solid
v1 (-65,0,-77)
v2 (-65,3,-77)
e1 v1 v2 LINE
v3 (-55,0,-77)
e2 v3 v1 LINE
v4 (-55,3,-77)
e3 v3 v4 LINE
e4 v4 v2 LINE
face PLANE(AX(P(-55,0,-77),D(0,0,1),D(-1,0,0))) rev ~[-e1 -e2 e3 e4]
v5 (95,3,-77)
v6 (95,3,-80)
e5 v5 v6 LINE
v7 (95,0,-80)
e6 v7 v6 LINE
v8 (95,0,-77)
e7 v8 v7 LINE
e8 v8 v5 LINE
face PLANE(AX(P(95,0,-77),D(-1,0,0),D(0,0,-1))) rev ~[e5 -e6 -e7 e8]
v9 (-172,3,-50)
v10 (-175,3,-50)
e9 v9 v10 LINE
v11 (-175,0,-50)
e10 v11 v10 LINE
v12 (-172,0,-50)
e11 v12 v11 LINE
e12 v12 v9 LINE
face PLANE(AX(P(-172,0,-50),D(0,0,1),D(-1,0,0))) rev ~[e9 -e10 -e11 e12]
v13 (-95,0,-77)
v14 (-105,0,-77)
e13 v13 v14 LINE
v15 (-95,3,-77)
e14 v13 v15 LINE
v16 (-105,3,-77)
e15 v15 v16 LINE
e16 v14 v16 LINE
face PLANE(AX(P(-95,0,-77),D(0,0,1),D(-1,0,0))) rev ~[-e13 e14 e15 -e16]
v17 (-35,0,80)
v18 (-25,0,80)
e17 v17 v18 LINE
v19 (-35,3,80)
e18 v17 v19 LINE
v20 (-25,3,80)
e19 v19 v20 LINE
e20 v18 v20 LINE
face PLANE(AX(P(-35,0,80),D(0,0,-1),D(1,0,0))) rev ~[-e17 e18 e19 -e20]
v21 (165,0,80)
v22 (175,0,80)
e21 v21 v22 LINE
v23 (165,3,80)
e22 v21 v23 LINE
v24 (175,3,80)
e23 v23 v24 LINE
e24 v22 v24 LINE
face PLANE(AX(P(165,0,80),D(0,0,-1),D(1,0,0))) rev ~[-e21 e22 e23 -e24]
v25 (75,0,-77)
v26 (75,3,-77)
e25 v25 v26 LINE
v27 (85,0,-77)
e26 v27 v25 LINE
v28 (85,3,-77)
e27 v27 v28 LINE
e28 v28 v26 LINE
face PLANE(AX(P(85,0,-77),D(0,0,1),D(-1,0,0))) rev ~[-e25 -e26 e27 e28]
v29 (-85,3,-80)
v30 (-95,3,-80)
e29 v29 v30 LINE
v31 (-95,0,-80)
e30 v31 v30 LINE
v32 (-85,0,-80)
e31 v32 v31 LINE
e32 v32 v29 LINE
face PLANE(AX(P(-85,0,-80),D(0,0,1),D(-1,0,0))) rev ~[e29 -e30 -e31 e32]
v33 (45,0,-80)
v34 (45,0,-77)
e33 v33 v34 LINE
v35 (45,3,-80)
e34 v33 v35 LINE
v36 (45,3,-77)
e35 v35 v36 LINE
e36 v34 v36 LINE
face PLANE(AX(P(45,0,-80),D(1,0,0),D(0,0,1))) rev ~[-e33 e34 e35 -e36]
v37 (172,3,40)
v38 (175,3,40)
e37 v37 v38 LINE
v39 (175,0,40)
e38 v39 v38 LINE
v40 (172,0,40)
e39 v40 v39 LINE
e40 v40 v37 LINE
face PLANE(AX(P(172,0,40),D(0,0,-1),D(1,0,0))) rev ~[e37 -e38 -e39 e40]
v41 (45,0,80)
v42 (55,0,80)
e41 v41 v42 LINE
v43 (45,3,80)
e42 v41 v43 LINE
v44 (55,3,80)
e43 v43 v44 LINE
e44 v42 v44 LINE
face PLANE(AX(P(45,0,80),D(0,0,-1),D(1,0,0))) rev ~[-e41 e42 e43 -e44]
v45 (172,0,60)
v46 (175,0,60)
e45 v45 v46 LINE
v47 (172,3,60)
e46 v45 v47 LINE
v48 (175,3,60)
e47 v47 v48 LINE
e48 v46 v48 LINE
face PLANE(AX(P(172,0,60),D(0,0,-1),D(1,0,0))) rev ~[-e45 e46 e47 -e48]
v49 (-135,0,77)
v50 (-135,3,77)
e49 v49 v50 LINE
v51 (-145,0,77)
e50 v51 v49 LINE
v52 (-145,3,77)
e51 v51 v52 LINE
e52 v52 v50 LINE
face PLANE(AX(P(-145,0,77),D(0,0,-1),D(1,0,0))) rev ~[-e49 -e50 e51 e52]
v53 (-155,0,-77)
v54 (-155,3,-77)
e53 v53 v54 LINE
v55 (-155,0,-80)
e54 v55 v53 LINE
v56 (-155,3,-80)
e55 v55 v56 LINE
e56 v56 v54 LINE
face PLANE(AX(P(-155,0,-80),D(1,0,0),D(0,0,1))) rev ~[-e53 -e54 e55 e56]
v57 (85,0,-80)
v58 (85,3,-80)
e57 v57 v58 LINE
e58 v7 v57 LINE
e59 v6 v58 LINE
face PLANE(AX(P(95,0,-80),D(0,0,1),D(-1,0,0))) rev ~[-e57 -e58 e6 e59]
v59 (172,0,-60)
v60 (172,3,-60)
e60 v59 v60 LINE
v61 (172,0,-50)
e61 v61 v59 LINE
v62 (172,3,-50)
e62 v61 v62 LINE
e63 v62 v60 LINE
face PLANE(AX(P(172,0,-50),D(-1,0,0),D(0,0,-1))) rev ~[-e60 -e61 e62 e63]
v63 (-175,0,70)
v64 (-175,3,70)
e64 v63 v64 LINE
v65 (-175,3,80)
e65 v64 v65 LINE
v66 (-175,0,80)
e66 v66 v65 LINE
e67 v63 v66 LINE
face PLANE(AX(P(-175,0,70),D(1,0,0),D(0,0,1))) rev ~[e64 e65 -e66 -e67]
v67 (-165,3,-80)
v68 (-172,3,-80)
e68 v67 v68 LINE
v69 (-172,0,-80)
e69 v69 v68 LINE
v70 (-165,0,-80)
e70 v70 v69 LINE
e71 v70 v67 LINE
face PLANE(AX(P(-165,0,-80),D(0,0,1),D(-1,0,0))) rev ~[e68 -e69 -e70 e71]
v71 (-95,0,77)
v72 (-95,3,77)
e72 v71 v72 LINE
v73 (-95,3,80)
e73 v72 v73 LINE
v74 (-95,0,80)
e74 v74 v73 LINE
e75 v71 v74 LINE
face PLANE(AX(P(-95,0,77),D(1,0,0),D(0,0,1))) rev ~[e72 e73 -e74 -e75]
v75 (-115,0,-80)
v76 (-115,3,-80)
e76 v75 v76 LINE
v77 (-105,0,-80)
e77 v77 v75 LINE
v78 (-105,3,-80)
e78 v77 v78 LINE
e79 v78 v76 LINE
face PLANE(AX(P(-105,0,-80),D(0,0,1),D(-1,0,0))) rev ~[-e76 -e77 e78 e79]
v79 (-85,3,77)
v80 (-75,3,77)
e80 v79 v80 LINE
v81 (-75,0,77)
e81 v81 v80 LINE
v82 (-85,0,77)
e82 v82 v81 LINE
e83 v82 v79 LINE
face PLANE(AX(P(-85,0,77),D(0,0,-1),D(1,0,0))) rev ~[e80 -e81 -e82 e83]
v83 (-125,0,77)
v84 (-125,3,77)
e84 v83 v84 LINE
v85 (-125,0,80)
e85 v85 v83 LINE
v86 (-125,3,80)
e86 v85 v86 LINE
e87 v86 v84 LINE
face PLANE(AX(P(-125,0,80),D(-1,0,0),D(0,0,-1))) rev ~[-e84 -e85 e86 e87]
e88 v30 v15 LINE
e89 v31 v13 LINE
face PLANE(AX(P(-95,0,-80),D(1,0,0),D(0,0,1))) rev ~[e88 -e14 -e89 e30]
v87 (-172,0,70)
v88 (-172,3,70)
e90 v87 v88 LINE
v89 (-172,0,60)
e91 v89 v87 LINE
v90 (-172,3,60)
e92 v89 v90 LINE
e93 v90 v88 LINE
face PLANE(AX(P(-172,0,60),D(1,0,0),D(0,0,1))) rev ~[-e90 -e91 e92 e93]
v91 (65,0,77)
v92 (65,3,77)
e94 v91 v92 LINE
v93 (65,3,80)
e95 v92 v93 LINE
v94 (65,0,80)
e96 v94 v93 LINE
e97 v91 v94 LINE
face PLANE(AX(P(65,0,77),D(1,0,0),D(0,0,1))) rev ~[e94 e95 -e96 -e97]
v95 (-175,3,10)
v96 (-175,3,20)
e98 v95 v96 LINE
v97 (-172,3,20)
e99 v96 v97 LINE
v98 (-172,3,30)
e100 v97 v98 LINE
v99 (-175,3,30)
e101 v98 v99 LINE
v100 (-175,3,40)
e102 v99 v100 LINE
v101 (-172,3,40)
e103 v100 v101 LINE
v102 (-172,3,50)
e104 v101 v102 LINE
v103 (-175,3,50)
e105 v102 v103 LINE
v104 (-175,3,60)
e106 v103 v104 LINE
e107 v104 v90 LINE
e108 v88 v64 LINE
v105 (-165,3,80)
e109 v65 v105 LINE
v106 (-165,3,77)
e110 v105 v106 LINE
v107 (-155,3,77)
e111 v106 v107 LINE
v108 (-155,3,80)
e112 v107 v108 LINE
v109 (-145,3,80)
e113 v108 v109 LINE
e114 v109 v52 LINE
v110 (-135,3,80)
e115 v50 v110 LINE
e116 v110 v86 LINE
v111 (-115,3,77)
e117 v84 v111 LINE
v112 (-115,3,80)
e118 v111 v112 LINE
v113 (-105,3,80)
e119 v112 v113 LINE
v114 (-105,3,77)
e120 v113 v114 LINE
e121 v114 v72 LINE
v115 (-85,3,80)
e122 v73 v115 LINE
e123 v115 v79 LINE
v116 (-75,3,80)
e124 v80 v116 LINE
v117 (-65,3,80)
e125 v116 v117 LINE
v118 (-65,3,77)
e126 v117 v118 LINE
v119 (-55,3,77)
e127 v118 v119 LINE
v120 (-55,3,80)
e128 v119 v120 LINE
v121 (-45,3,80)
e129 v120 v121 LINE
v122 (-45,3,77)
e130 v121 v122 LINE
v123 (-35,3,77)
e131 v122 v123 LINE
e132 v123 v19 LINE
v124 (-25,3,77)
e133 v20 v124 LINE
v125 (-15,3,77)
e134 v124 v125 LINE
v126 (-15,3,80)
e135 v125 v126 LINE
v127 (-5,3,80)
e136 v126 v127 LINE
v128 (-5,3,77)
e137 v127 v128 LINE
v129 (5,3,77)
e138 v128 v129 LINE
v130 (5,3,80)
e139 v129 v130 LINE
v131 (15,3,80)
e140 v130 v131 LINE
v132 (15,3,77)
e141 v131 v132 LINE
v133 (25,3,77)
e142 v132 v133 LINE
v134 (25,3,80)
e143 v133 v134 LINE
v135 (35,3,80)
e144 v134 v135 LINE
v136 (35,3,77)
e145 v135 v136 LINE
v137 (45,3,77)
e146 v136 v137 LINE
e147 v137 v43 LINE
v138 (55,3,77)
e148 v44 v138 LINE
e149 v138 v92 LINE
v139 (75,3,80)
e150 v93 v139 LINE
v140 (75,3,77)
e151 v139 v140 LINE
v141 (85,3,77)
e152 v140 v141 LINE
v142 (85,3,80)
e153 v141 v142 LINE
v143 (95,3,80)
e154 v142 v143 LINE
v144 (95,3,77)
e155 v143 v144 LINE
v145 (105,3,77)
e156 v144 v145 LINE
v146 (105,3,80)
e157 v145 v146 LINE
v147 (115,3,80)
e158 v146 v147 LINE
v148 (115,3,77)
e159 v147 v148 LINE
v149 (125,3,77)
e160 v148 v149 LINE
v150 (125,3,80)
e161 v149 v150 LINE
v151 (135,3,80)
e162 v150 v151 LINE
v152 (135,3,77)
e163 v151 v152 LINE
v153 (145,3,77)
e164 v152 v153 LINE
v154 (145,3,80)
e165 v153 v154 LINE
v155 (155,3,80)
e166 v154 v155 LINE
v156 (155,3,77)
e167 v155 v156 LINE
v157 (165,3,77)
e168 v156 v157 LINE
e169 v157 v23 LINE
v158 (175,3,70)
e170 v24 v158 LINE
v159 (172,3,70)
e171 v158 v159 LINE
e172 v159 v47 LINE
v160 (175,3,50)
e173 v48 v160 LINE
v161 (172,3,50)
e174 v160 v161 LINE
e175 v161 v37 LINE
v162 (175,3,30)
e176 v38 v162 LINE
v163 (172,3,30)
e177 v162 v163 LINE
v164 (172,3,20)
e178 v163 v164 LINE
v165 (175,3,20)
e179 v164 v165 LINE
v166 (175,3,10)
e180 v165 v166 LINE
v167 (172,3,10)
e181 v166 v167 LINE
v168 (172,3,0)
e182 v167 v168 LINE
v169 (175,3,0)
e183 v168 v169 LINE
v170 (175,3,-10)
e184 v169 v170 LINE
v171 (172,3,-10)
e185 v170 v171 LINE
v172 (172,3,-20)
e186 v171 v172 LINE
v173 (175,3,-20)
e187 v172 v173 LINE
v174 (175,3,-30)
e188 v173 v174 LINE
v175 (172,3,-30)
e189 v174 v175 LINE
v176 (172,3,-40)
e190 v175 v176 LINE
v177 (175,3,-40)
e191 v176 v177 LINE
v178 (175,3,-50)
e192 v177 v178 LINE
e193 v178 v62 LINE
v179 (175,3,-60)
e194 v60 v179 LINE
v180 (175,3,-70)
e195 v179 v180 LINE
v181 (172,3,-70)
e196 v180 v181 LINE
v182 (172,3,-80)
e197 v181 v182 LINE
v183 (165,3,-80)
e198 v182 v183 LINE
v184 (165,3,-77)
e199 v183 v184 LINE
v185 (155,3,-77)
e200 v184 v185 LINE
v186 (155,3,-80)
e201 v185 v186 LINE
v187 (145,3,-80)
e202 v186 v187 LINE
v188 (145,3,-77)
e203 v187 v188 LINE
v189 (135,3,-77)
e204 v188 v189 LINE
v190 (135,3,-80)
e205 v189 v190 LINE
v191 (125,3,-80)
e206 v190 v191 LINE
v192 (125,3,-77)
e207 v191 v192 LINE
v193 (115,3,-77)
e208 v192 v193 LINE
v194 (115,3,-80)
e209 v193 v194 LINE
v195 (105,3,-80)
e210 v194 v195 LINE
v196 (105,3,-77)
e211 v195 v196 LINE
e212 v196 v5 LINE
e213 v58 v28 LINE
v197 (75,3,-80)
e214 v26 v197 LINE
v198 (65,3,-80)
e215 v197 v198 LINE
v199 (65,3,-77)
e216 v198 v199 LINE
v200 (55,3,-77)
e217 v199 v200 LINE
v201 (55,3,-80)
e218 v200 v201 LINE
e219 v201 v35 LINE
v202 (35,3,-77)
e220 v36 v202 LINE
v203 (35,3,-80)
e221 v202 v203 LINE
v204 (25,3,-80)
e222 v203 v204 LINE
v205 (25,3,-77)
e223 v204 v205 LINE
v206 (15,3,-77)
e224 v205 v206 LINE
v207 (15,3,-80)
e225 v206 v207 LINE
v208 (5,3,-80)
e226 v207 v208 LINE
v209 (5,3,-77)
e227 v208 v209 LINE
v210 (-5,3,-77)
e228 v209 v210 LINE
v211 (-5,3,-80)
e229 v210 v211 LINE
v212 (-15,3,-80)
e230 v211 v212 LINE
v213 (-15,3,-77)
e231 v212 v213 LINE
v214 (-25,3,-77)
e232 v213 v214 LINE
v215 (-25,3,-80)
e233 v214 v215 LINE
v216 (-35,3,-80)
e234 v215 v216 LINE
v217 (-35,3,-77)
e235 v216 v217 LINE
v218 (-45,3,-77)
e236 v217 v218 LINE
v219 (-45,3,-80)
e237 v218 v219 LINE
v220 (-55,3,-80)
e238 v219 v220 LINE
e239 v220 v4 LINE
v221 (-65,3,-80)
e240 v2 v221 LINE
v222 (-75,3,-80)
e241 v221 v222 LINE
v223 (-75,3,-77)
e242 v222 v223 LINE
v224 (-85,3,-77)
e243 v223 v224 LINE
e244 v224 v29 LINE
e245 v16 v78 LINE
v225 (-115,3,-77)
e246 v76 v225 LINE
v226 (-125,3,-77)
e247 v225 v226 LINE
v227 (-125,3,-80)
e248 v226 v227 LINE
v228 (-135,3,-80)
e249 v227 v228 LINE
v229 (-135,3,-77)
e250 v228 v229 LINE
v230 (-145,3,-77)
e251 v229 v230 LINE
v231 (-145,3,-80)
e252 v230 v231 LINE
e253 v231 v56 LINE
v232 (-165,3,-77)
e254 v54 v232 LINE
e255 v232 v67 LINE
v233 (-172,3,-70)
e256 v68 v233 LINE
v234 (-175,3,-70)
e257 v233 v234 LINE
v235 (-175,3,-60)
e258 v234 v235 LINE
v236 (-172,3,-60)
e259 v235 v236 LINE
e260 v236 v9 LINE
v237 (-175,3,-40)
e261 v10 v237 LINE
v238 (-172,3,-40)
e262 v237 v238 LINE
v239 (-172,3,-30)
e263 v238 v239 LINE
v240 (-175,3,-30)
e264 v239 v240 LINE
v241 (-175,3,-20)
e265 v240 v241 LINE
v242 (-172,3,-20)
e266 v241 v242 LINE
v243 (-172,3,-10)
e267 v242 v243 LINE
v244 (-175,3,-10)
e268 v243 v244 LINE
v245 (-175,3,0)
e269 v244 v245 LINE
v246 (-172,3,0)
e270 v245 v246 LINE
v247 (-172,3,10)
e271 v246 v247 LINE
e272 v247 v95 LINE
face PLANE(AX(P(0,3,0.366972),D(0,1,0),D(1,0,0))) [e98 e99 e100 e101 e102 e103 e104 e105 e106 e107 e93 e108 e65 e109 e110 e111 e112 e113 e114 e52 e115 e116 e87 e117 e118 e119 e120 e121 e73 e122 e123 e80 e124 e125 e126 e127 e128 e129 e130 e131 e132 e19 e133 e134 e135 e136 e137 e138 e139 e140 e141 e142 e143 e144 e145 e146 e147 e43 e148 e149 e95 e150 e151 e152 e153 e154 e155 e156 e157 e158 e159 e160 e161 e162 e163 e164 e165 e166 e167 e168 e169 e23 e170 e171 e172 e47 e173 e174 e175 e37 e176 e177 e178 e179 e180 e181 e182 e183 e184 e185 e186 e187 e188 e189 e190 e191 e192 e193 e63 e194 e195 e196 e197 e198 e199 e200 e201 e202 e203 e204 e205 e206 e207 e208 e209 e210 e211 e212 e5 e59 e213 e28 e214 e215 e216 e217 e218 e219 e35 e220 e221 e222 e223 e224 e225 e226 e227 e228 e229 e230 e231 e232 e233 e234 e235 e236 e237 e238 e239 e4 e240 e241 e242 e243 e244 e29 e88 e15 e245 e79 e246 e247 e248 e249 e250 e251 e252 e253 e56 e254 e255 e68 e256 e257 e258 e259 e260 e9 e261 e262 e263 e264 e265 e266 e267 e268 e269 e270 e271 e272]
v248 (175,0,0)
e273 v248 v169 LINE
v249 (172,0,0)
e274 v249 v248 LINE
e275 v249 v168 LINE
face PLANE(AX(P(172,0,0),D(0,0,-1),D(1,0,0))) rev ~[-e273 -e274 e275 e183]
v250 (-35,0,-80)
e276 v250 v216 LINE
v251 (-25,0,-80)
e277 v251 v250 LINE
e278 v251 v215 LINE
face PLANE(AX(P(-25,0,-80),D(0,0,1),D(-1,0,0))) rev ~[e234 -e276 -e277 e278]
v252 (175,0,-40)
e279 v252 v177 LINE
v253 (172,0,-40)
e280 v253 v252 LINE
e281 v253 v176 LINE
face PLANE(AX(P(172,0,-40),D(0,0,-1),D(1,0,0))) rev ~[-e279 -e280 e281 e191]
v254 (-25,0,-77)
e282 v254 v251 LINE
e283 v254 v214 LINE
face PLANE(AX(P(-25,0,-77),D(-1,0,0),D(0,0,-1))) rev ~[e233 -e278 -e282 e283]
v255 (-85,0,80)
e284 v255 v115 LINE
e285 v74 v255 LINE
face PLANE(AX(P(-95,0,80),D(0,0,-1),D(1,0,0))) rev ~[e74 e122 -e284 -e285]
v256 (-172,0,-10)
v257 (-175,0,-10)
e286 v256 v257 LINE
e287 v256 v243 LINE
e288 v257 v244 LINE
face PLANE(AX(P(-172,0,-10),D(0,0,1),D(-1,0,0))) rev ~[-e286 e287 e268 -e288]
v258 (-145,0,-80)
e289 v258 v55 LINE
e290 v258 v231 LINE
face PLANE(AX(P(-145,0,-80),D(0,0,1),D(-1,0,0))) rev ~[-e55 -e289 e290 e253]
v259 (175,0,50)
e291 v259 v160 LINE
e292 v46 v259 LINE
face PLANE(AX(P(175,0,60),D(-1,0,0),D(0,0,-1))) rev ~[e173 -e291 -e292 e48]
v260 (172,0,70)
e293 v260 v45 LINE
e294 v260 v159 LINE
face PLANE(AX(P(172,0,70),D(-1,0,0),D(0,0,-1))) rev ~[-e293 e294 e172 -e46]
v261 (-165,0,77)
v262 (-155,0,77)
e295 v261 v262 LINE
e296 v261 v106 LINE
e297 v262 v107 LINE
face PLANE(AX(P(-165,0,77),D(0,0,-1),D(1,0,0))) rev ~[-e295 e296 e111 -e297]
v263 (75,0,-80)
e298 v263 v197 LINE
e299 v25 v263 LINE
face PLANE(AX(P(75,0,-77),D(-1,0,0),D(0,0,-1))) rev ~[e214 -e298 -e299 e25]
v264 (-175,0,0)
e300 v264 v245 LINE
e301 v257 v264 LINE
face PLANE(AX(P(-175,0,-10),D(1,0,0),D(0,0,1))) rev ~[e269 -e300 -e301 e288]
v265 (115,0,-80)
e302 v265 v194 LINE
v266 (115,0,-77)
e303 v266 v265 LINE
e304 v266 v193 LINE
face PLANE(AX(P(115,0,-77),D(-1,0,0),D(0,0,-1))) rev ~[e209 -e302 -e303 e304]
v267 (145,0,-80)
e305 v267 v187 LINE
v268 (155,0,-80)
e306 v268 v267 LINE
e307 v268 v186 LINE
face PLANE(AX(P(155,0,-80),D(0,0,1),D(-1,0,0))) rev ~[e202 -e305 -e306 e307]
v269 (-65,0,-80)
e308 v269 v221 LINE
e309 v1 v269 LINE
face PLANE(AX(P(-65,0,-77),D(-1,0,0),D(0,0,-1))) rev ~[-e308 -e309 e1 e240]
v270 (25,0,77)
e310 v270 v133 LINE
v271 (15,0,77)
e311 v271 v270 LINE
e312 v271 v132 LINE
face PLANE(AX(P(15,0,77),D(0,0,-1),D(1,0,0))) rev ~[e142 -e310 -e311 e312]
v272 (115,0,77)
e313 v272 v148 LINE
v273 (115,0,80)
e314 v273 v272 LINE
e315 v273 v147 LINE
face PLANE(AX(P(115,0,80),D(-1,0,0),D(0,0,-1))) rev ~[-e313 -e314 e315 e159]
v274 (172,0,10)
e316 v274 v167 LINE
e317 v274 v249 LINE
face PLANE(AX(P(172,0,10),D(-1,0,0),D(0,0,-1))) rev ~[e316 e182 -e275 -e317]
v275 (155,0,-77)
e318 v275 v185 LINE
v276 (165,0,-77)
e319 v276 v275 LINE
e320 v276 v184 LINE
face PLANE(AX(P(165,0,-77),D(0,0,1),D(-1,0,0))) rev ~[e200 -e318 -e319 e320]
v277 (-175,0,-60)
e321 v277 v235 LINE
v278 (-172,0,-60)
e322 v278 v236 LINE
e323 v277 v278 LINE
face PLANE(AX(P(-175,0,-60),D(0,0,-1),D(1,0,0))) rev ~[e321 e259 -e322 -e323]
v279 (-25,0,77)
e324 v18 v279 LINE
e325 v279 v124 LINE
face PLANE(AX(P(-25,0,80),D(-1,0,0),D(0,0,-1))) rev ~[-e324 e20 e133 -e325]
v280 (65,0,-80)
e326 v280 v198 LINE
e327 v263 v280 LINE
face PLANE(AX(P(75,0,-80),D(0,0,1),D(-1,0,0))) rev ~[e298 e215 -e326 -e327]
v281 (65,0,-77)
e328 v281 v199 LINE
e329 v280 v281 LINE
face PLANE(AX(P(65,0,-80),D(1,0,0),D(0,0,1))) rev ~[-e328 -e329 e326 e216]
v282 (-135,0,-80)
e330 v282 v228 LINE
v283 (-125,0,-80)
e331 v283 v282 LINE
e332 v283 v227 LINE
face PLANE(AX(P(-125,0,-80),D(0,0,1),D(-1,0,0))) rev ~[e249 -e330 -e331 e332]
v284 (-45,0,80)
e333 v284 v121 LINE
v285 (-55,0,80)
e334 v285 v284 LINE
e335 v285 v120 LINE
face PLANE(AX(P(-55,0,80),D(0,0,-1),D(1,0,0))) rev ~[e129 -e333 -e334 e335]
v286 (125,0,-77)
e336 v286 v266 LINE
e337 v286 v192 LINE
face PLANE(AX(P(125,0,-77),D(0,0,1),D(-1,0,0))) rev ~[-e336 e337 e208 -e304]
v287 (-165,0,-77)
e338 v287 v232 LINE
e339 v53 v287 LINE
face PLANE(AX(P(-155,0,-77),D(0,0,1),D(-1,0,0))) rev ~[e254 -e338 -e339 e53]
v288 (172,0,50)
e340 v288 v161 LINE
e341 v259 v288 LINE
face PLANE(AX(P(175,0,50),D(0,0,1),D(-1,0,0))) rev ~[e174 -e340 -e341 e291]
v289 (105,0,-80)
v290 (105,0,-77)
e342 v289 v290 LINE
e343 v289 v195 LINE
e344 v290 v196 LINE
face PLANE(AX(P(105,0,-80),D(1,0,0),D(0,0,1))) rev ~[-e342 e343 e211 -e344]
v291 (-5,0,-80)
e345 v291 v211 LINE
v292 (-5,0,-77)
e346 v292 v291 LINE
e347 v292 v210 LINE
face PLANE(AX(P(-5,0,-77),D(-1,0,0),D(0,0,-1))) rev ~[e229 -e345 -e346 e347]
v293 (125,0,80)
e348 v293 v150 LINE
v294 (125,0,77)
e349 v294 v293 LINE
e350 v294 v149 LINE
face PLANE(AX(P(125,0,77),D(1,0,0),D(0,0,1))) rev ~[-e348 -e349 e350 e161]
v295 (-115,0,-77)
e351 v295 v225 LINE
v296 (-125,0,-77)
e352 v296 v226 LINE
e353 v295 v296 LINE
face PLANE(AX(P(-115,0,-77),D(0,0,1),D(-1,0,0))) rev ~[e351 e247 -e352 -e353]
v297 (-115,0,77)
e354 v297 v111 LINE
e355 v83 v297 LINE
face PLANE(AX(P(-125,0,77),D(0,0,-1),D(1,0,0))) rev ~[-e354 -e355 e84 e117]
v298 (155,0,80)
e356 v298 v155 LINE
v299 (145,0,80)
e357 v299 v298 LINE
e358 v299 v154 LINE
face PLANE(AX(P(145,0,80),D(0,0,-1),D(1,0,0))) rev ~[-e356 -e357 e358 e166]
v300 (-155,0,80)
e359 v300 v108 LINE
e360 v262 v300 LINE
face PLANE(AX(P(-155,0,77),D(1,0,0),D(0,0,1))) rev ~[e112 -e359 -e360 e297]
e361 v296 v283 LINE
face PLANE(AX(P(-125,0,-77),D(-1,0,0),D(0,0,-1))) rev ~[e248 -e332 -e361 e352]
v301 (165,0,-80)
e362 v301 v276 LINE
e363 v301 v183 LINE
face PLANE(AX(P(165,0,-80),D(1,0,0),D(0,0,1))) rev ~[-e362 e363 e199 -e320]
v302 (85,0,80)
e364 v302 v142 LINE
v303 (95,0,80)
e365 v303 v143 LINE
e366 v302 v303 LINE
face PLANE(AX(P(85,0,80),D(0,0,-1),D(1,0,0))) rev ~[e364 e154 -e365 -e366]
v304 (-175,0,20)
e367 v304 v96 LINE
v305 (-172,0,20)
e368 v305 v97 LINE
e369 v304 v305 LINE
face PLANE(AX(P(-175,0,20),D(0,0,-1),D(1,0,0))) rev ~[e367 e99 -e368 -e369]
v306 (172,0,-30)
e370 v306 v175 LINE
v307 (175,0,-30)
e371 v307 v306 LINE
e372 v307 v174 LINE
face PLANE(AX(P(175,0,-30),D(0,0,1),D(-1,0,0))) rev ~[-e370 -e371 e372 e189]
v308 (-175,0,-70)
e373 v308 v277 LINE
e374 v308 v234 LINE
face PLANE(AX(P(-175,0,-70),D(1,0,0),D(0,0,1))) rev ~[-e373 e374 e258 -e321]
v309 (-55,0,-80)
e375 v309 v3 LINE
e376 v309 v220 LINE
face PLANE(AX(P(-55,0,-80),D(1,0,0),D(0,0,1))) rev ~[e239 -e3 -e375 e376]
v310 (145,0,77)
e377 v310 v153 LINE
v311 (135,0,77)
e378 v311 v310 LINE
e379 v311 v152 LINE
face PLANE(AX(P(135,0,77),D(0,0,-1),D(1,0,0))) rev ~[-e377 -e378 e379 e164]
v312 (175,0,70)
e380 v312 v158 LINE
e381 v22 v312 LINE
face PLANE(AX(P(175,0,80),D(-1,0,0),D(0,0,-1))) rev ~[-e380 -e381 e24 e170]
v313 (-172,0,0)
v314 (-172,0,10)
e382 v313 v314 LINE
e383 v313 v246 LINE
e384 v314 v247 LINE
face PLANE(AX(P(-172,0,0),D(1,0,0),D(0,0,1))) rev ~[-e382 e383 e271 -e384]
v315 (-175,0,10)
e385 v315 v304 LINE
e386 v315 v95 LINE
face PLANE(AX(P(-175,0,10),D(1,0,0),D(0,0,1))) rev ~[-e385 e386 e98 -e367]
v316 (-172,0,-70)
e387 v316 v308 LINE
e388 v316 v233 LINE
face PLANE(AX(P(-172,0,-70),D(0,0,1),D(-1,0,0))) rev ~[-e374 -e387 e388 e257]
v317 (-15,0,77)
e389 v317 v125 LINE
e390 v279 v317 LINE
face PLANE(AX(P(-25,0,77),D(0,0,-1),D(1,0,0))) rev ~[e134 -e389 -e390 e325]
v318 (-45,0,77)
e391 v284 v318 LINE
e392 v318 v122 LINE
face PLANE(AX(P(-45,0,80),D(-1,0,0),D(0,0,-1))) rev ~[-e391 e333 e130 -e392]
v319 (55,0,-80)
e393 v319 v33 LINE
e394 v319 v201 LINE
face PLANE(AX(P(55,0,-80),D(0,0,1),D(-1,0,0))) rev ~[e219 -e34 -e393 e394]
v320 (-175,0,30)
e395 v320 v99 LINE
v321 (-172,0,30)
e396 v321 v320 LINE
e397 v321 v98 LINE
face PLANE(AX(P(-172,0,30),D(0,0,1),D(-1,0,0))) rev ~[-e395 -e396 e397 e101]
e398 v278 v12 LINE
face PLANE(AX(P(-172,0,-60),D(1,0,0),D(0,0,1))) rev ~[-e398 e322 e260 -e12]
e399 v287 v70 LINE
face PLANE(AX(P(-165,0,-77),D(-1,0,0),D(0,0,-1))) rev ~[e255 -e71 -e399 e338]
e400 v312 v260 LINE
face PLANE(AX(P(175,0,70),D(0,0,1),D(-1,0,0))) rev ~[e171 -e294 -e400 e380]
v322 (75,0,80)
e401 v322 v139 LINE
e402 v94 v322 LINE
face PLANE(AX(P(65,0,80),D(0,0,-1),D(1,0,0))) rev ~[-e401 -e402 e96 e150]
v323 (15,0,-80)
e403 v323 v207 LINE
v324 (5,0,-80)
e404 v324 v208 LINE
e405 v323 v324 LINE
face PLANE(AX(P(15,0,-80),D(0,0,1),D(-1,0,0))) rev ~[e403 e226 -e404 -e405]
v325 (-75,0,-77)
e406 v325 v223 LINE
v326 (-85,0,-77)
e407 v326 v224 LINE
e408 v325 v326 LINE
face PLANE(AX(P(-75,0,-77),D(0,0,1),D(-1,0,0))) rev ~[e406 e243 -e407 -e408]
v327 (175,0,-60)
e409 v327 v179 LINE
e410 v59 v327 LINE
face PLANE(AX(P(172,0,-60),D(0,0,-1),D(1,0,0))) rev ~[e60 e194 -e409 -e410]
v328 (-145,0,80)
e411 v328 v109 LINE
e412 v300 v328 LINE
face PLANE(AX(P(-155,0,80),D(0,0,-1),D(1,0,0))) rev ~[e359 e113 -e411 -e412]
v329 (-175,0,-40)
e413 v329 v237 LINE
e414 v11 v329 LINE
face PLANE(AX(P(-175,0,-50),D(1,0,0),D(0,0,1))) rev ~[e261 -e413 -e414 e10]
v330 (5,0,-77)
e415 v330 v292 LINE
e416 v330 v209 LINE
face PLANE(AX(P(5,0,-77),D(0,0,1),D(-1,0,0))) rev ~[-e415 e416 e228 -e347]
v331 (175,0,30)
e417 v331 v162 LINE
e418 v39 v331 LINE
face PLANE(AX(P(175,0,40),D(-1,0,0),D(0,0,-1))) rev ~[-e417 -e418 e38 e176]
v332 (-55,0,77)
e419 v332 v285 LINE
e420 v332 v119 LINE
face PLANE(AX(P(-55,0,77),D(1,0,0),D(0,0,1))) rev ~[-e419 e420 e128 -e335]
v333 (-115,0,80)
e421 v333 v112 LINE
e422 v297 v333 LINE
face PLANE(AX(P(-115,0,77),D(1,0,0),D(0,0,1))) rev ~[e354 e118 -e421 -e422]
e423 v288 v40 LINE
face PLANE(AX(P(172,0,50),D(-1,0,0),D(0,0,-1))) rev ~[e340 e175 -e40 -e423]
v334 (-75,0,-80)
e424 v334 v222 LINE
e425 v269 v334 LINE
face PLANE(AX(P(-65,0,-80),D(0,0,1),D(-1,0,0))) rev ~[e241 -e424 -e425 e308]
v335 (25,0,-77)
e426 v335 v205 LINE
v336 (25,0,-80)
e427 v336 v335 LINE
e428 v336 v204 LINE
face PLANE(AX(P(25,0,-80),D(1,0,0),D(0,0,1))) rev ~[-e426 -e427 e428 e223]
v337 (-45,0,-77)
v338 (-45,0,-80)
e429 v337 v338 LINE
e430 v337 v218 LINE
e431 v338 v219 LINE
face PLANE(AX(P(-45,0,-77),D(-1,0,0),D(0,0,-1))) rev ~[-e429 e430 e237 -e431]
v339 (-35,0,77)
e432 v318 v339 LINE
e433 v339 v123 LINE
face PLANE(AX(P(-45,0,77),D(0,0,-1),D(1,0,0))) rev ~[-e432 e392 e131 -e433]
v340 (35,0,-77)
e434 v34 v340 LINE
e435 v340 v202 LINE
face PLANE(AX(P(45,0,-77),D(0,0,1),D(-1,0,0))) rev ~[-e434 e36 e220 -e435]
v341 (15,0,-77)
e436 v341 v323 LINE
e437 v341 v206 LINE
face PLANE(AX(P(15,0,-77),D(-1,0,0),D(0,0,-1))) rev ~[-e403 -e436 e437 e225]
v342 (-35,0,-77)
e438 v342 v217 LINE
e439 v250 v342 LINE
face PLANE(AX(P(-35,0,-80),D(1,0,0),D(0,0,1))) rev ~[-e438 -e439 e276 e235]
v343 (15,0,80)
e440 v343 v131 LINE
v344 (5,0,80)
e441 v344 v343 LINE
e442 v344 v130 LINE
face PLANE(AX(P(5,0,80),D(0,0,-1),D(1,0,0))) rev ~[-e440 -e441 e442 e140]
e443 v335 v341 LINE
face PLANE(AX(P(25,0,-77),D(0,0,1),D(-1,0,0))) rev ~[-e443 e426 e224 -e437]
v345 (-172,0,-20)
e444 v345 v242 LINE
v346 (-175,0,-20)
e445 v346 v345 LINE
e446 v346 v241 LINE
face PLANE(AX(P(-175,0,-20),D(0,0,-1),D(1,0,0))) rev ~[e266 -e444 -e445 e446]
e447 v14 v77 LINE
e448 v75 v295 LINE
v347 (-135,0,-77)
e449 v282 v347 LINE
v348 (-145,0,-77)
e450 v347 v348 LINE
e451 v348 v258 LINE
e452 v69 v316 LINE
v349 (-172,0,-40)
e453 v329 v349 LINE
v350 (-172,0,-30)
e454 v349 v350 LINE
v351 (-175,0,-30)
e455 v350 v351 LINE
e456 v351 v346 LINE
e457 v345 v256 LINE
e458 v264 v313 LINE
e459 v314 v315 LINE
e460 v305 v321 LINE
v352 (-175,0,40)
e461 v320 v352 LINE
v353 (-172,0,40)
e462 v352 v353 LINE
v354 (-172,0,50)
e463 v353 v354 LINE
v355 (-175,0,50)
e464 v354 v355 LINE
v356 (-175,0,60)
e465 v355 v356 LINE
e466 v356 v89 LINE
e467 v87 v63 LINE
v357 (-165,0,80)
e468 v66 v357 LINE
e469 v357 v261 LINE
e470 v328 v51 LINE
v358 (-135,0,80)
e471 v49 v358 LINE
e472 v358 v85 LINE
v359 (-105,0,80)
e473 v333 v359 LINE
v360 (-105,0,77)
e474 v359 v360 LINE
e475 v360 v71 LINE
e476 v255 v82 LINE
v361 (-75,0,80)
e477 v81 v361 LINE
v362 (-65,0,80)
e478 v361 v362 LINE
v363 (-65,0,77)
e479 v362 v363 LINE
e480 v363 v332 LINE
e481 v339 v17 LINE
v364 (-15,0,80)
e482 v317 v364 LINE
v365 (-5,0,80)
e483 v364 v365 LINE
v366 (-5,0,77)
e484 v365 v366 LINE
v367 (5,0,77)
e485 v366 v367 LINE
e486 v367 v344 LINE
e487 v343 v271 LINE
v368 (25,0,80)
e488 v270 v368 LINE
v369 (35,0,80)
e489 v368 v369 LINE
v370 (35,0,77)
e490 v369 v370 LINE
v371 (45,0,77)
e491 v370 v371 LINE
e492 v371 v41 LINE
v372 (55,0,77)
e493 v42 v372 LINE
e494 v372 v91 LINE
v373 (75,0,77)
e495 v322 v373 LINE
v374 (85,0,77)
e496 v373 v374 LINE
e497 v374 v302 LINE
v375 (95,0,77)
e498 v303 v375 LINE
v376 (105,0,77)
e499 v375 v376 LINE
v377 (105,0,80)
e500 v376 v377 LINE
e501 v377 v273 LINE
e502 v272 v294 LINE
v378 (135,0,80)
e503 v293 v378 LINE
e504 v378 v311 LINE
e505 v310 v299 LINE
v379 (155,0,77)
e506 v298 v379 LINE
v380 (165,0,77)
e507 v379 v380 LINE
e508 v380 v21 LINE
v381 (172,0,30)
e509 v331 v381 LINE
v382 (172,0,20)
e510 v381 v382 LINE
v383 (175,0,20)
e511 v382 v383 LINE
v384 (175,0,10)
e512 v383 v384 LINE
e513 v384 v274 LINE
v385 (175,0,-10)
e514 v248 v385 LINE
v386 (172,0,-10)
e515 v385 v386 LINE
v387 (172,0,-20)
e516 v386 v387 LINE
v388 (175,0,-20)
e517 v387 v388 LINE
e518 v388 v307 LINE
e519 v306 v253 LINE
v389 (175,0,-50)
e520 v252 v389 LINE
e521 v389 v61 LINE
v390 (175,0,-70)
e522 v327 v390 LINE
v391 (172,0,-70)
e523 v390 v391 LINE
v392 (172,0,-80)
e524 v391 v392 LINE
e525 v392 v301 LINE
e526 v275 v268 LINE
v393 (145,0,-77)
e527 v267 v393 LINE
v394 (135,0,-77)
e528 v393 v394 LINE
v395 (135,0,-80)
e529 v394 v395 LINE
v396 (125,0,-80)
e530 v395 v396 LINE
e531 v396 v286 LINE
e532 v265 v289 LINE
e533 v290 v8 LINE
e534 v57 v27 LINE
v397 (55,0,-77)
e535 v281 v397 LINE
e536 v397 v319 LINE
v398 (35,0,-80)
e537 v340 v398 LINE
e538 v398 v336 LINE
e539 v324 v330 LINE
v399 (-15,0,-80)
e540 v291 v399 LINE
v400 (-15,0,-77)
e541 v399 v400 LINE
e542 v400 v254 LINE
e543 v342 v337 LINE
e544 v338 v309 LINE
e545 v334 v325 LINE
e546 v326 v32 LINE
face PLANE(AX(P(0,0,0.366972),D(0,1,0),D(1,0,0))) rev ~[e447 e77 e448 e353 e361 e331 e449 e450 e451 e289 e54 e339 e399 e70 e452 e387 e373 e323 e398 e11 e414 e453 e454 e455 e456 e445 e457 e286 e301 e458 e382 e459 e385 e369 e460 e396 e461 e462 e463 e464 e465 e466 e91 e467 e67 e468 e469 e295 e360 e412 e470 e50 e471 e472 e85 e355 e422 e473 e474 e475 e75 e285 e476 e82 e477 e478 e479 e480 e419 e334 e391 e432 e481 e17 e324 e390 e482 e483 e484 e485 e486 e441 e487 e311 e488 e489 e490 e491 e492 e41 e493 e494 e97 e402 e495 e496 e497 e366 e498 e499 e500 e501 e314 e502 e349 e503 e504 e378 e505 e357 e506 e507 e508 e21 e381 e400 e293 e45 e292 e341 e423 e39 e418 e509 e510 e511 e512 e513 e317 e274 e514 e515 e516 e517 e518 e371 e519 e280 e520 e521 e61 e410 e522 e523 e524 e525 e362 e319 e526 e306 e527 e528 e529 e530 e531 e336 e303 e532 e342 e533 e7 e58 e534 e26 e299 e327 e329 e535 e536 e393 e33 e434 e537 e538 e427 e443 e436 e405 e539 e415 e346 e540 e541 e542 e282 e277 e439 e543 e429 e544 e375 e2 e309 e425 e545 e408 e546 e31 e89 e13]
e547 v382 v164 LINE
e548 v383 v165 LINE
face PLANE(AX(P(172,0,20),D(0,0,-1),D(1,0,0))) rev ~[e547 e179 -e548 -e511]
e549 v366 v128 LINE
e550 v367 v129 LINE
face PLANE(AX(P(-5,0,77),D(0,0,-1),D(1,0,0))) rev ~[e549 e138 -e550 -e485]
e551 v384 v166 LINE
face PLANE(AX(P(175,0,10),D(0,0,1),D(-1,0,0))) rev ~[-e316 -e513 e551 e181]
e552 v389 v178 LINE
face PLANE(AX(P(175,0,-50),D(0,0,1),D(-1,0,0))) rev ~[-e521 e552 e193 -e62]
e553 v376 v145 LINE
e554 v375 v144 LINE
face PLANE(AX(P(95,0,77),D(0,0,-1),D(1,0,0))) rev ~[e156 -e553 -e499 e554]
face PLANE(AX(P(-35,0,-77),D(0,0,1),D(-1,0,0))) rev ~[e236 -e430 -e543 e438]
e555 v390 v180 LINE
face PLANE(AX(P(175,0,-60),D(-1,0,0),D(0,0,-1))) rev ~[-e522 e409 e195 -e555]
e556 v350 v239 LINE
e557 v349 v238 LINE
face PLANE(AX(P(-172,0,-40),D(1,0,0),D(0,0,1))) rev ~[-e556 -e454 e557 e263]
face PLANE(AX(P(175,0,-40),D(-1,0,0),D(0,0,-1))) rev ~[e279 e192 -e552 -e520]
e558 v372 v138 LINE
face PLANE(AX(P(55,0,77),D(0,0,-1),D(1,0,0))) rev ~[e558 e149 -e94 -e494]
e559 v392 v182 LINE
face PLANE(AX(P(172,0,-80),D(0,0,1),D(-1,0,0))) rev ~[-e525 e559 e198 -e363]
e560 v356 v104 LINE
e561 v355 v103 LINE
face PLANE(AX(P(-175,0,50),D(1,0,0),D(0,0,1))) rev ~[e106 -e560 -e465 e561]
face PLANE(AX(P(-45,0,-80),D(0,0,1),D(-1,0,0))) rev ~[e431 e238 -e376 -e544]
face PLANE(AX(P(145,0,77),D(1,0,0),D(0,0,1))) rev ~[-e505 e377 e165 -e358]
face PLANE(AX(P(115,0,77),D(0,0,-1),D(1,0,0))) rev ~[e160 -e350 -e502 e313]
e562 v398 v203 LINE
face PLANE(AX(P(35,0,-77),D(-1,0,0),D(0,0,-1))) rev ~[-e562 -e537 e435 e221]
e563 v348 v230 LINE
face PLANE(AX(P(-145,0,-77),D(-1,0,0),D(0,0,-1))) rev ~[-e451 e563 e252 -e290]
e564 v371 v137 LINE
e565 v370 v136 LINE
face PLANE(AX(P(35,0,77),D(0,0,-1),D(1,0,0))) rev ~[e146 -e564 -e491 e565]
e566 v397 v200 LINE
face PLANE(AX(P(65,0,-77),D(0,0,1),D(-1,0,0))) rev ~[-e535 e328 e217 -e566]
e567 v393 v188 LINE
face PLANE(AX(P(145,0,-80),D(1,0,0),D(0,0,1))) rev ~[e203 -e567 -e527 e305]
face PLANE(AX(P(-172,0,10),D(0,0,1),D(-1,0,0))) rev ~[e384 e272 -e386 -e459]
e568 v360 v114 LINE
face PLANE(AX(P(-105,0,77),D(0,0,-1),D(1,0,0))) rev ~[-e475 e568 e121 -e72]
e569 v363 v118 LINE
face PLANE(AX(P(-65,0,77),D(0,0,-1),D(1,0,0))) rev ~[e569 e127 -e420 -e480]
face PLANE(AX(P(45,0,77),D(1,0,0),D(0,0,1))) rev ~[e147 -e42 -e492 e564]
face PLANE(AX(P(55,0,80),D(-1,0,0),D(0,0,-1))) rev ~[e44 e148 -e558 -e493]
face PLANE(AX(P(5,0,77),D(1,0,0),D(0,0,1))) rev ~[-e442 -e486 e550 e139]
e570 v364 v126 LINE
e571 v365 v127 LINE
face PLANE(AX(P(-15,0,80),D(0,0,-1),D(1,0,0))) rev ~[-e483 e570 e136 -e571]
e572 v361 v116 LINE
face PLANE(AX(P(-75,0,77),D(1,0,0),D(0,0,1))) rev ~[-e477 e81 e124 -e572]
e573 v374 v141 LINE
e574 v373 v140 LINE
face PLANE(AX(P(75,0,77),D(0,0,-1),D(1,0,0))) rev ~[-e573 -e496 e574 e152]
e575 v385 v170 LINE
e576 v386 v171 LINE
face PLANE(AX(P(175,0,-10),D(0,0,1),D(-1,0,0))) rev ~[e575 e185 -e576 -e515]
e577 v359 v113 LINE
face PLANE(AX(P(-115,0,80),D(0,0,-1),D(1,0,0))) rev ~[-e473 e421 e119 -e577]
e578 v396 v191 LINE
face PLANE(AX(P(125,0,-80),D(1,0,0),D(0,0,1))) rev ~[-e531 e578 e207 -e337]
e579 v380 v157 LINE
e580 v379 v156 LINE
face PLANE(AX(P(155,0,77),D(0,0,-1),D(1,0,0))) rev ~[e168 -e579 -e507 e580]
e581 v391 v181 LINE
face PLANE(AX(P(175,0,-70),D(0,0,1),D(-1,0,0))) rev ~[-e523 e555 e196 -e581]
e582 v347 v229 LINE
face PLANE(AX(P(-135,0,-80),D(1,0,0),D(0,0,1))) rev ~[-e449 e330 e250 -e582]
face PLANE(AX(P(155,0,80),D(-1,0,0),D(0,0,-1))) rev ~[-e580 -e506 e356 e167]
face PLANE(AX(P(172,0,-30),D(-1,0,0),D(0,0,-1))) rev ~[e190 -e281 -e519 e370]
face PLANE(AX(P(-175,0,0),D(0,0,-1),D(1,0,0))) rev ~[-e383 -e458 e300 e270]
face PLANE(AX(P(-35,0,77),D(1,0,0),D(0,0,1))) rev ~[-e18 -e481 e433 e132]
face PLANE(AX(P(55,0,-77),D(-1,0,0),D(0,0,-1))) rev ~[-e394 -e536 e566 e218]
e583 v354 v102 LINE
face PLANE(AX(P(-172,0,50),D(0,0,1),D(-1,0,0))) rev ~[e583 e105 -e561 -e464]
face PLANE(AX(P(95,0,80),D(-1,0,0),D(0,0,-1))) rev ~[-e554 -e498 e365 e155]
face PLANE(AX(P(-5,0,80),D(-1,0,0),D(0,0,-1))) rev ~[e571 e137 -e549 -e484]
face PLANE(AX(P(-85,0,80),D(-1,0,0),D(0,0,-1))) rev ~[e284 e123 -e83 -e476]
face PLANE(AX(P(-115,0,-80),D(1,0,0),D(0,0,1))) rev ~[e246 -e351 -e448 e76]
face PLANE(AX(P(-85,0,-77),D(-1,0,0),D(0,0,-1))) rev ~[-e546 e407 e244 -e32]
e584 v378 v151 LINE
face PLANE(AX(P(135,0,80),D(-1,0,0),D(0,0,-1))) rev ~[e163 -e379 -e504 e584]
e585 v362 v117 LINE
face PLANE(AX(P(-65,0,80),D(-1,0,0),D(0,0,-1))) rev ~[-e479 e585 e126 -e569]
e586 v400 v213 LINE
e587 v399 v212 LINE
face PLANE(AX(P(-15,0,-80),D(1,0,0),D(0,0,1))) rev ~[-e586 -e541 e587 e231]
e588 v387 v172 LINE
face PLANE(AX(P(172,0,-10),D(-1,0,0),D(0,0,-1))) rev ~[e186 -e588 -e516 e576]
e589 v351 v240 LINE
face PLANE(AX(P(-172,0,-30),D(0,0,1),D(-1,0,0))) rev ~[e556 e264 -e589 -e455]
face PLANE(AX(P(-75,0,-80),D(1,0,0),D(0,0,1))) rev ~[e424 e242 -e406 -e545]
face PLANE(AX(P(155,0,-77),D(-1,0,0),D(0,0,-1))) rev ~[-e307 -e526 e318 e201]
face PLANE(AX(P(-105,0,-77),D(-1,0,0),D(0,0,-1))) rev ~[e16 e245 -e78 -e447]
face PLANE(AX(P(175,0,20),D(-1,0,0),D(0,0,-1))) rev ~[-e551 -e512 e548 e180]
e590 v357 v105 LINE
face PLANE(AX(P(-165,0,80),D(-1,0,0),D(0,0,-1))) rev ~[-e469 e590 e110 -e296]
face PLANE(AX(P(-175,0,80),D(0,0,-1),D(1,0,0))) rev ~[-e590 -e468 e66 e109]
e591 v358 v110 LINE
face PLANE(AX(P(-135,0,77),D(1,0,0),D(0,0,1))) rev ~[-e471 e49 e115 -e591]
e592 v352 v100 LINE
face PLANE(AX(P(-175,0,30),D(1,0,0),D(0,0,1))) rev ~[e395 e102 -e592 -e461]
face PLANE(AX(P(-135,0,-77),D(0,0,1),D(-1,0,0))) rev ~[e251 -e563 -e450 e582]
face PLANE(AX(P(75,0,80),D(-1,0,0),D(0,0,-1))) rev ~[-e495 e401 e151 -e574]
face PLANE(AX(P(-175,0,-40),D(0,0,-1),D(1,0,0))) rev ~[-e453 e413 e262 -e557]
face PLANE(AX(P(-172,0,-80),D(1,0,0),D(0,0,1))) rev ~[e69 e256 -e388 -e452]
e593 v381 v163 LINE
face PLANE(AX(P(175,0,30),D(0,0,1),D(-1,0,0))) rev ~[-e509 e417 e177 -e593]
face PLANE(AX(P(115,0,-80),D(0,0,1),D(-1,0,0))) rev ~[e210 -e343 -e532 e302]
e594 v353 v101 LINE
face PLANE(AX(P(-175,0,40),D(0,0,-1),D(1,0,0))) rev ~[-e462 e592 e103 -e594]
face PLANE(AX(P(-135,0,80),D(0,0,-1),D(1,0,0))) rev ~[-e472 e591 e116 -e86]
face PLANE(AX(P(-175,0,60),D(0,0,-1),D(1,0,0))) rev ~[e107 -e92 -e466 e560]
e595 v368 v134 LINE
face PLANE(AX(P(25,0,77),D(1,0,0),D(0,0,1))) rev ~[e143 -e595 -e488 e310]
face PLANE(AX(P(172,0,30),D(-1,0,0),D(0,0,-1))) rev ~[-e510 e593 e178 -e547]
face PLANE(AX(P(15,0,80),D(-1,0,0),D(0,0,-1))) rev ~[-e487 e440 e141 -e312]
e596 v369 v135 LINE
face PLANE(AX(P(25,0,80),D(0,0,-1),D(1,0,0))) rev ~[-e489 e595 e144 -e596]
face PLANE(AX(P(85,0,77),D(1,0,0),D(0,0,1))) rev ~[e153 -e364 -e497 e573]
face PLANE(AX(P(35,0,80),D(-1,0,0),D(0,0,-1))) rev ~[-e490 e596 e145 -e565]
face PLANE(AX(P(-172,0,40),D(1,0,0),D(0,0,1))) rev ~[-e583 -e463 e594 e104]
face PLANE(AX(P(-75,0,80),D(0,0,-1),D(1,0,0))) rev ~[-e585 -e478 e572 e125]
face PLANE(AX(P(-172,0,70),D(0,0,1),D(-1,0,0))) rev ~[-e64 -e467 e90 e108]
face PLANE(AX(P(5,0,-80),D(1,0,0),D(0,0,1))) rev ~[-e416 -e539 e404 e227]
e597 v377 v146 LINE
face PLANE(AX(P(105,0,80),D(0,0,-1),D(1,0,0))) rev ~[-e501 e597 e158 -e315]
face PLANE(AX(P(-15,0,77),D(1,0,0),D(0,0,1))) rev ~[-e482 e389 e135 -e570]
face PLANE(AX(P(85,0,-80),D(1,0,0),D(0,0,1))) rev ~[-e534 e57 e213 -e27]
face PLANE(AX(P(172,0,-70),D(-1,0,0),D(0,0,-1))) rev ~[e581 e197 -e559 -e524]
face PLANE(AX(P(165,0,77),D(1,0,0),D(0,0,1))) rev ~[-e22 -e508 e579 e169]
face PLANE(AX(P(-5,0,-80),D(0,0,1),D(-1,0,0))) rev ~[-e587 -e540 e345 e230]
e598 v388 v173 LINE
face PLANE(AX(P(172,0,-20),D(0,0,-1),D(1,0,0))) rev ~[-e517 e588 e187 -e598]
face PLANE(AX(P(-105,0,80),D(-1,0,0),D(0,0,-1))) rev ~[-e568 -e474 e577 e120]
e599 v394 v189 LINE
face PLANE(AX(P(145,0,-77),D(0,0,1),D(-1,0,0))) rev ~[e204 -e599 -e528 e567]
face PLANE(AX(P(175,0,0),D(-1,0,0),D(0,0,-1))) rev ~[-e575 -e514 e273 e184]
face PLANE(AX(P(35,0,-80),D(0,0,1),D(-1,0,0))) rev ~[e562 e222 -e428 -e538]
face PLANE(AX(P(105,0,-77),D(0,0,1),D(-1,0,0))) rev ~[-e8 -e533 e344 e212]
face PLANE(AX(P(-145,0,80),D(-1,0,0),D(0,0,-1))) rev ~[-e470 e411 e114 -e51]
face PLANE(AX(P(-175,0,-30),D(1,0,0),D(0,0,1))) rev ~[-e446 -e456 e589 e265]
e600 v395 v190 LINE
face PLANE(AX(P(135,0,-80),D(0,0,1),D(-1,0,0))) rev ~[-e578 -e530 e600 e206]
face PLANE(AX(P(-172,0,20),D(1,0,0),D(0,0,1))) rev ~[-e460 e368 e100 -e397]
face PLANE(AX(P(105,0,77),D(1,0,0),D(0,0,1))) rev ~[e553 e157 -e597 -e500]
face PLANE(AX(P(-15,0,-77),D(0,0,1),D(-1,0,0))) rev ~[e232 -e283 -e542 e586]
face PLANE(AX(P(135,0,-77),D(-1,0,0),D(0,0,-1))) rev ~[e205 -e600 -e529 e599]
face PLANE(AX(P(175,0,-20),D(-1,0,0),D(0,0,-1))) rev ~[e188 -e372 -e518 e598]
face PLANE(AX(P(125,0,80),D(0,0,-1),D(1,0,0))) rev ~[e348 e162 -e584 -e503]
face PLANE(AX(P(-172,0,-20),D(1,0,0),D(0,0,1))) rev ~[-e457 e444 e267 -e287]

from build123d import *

# Parameters (mm, degrees)
SALIENTE_EXTRUIR1_DEPTH = 3


with BuildPart() as part:
    # Croquis1 → Saliente-Extruir1 (new body)
    with BuildSketch(Plane(origin=(0, 0, 0), x_dir=(1, 0, 0), z_dir=(0, 1, 0))):
        Polygon((165, -80), (175, -80), (175, -70), (172, -70), (172, -60), (175, -60), (175, -50), (172, -50), (172, -40), (175, -40), (175, -30), (172, -30), (172, -20), (175, -20), (175, -10), (172, -10), (172, 0), (175, 0), (175, 10), (172, 10), (172, 20), (175, 20), (175, 30), (172, 30), (172, 40), (175, 40), (175, 50), (172, 50), (172, 60), (175, 60), (175, 70), (172, 70), (172, 80), (165, 80), (165, 77), (155, 77), (155, 80), (145, 80), (145, 77), (135, 77), (135, 80), (125, 80), (125, 77), (115, 77), (115, 80), (105, 80), (105, 77), (95, 77), (95, 80), (85, 80), (85, 77), (75, 77), (75, 80), (65, 80), (65, 77), (55, 77), (55, 80), (45, 80), (45, 77), (35, 77), (35, 80), (25, 80), (25, 77), (15, 77), (15, 80), (5, 80), (5, 77), (-5, 77), (-5, 80), (-15, 80), (-15, 77), (-25, 77), (-25, 80), (-35, 80), (-35, 77), (-45, 77), (-45, 80), (-55, 80), (-55, 77), (-65, 77), (-65, 80), (-75, 80), (-75, 77), (-85, 77), (-85, 80), (-95, 80), (-95, 77), (-105, 77), (-105, 80), (-115, 80), (-115, 77), (-125, 77), (-125, 80), (-135, 80), (-135, 77), (-145, 77), (-145, 80), (-155, 80), (-155, 77), (-165, 77), (-165, 80), (-172, 80), (-172, 70), (-175, 70), (-175, 60), (-172, 60), (-172, 50), (-175, 50), (-175, 40), (-172, 40), (-172, 30), (-175, 30), (-175, 20), (-172, 20), (-172, 10), (-175, 10), (-175, 0), (-172, 0), (-172, -10), (-175, -10), (-175, -20), (-172, -20), (-172, -30), (-175, -30), (-175, -40), (-172, -40), (-172, -50), (-175, -50), (-175, -60), (-172, -60), (-172, -70), (-175, -70), (-175, -80), (-165, -80), (-165, -77), (-155, -77), (-155, -80), (-145, -80), (-145, -77), (-135, -77), (-135, -80), (-125, -80), (-125, -77), (-115, -77), (-115, -80), (-105, -80), (-105, -77), (-95, -77), (-95, -80), (-85, -80), (-85, -77), (-75, -77), (-75, -80), (-65, -80), (-65, -77), (-55, -77), (-55, -80), (-45, -80), (-45, -77), (-35, -77), (-35, -80), (-25, -80), (-25, -77), (-15, -77), (-15, -80), (-5, -80), (-5, -77), (5, -77), (5, -80), (15, -80), (15, -77), (25, -77), (25, -80), (35, -80), (35, -77), (45, -77), (45, -80), (55, -80), (55, -77), (65, -77), (65, -80), (75, -80), (75, -77), (85, -77), (85, -80), (95, -80), (95, -77), (105, -77), (105, -80), (115, -80), (115, -77), (125, -77), (125, -80), (135, -80), (135, -77), (145, -77), (145, -80), (155, -80), (155, -77), (165, -77), align=None)
    extrude(amount=SALIENTE_EXTRUIR1_DEPTH)


solid = part.part
